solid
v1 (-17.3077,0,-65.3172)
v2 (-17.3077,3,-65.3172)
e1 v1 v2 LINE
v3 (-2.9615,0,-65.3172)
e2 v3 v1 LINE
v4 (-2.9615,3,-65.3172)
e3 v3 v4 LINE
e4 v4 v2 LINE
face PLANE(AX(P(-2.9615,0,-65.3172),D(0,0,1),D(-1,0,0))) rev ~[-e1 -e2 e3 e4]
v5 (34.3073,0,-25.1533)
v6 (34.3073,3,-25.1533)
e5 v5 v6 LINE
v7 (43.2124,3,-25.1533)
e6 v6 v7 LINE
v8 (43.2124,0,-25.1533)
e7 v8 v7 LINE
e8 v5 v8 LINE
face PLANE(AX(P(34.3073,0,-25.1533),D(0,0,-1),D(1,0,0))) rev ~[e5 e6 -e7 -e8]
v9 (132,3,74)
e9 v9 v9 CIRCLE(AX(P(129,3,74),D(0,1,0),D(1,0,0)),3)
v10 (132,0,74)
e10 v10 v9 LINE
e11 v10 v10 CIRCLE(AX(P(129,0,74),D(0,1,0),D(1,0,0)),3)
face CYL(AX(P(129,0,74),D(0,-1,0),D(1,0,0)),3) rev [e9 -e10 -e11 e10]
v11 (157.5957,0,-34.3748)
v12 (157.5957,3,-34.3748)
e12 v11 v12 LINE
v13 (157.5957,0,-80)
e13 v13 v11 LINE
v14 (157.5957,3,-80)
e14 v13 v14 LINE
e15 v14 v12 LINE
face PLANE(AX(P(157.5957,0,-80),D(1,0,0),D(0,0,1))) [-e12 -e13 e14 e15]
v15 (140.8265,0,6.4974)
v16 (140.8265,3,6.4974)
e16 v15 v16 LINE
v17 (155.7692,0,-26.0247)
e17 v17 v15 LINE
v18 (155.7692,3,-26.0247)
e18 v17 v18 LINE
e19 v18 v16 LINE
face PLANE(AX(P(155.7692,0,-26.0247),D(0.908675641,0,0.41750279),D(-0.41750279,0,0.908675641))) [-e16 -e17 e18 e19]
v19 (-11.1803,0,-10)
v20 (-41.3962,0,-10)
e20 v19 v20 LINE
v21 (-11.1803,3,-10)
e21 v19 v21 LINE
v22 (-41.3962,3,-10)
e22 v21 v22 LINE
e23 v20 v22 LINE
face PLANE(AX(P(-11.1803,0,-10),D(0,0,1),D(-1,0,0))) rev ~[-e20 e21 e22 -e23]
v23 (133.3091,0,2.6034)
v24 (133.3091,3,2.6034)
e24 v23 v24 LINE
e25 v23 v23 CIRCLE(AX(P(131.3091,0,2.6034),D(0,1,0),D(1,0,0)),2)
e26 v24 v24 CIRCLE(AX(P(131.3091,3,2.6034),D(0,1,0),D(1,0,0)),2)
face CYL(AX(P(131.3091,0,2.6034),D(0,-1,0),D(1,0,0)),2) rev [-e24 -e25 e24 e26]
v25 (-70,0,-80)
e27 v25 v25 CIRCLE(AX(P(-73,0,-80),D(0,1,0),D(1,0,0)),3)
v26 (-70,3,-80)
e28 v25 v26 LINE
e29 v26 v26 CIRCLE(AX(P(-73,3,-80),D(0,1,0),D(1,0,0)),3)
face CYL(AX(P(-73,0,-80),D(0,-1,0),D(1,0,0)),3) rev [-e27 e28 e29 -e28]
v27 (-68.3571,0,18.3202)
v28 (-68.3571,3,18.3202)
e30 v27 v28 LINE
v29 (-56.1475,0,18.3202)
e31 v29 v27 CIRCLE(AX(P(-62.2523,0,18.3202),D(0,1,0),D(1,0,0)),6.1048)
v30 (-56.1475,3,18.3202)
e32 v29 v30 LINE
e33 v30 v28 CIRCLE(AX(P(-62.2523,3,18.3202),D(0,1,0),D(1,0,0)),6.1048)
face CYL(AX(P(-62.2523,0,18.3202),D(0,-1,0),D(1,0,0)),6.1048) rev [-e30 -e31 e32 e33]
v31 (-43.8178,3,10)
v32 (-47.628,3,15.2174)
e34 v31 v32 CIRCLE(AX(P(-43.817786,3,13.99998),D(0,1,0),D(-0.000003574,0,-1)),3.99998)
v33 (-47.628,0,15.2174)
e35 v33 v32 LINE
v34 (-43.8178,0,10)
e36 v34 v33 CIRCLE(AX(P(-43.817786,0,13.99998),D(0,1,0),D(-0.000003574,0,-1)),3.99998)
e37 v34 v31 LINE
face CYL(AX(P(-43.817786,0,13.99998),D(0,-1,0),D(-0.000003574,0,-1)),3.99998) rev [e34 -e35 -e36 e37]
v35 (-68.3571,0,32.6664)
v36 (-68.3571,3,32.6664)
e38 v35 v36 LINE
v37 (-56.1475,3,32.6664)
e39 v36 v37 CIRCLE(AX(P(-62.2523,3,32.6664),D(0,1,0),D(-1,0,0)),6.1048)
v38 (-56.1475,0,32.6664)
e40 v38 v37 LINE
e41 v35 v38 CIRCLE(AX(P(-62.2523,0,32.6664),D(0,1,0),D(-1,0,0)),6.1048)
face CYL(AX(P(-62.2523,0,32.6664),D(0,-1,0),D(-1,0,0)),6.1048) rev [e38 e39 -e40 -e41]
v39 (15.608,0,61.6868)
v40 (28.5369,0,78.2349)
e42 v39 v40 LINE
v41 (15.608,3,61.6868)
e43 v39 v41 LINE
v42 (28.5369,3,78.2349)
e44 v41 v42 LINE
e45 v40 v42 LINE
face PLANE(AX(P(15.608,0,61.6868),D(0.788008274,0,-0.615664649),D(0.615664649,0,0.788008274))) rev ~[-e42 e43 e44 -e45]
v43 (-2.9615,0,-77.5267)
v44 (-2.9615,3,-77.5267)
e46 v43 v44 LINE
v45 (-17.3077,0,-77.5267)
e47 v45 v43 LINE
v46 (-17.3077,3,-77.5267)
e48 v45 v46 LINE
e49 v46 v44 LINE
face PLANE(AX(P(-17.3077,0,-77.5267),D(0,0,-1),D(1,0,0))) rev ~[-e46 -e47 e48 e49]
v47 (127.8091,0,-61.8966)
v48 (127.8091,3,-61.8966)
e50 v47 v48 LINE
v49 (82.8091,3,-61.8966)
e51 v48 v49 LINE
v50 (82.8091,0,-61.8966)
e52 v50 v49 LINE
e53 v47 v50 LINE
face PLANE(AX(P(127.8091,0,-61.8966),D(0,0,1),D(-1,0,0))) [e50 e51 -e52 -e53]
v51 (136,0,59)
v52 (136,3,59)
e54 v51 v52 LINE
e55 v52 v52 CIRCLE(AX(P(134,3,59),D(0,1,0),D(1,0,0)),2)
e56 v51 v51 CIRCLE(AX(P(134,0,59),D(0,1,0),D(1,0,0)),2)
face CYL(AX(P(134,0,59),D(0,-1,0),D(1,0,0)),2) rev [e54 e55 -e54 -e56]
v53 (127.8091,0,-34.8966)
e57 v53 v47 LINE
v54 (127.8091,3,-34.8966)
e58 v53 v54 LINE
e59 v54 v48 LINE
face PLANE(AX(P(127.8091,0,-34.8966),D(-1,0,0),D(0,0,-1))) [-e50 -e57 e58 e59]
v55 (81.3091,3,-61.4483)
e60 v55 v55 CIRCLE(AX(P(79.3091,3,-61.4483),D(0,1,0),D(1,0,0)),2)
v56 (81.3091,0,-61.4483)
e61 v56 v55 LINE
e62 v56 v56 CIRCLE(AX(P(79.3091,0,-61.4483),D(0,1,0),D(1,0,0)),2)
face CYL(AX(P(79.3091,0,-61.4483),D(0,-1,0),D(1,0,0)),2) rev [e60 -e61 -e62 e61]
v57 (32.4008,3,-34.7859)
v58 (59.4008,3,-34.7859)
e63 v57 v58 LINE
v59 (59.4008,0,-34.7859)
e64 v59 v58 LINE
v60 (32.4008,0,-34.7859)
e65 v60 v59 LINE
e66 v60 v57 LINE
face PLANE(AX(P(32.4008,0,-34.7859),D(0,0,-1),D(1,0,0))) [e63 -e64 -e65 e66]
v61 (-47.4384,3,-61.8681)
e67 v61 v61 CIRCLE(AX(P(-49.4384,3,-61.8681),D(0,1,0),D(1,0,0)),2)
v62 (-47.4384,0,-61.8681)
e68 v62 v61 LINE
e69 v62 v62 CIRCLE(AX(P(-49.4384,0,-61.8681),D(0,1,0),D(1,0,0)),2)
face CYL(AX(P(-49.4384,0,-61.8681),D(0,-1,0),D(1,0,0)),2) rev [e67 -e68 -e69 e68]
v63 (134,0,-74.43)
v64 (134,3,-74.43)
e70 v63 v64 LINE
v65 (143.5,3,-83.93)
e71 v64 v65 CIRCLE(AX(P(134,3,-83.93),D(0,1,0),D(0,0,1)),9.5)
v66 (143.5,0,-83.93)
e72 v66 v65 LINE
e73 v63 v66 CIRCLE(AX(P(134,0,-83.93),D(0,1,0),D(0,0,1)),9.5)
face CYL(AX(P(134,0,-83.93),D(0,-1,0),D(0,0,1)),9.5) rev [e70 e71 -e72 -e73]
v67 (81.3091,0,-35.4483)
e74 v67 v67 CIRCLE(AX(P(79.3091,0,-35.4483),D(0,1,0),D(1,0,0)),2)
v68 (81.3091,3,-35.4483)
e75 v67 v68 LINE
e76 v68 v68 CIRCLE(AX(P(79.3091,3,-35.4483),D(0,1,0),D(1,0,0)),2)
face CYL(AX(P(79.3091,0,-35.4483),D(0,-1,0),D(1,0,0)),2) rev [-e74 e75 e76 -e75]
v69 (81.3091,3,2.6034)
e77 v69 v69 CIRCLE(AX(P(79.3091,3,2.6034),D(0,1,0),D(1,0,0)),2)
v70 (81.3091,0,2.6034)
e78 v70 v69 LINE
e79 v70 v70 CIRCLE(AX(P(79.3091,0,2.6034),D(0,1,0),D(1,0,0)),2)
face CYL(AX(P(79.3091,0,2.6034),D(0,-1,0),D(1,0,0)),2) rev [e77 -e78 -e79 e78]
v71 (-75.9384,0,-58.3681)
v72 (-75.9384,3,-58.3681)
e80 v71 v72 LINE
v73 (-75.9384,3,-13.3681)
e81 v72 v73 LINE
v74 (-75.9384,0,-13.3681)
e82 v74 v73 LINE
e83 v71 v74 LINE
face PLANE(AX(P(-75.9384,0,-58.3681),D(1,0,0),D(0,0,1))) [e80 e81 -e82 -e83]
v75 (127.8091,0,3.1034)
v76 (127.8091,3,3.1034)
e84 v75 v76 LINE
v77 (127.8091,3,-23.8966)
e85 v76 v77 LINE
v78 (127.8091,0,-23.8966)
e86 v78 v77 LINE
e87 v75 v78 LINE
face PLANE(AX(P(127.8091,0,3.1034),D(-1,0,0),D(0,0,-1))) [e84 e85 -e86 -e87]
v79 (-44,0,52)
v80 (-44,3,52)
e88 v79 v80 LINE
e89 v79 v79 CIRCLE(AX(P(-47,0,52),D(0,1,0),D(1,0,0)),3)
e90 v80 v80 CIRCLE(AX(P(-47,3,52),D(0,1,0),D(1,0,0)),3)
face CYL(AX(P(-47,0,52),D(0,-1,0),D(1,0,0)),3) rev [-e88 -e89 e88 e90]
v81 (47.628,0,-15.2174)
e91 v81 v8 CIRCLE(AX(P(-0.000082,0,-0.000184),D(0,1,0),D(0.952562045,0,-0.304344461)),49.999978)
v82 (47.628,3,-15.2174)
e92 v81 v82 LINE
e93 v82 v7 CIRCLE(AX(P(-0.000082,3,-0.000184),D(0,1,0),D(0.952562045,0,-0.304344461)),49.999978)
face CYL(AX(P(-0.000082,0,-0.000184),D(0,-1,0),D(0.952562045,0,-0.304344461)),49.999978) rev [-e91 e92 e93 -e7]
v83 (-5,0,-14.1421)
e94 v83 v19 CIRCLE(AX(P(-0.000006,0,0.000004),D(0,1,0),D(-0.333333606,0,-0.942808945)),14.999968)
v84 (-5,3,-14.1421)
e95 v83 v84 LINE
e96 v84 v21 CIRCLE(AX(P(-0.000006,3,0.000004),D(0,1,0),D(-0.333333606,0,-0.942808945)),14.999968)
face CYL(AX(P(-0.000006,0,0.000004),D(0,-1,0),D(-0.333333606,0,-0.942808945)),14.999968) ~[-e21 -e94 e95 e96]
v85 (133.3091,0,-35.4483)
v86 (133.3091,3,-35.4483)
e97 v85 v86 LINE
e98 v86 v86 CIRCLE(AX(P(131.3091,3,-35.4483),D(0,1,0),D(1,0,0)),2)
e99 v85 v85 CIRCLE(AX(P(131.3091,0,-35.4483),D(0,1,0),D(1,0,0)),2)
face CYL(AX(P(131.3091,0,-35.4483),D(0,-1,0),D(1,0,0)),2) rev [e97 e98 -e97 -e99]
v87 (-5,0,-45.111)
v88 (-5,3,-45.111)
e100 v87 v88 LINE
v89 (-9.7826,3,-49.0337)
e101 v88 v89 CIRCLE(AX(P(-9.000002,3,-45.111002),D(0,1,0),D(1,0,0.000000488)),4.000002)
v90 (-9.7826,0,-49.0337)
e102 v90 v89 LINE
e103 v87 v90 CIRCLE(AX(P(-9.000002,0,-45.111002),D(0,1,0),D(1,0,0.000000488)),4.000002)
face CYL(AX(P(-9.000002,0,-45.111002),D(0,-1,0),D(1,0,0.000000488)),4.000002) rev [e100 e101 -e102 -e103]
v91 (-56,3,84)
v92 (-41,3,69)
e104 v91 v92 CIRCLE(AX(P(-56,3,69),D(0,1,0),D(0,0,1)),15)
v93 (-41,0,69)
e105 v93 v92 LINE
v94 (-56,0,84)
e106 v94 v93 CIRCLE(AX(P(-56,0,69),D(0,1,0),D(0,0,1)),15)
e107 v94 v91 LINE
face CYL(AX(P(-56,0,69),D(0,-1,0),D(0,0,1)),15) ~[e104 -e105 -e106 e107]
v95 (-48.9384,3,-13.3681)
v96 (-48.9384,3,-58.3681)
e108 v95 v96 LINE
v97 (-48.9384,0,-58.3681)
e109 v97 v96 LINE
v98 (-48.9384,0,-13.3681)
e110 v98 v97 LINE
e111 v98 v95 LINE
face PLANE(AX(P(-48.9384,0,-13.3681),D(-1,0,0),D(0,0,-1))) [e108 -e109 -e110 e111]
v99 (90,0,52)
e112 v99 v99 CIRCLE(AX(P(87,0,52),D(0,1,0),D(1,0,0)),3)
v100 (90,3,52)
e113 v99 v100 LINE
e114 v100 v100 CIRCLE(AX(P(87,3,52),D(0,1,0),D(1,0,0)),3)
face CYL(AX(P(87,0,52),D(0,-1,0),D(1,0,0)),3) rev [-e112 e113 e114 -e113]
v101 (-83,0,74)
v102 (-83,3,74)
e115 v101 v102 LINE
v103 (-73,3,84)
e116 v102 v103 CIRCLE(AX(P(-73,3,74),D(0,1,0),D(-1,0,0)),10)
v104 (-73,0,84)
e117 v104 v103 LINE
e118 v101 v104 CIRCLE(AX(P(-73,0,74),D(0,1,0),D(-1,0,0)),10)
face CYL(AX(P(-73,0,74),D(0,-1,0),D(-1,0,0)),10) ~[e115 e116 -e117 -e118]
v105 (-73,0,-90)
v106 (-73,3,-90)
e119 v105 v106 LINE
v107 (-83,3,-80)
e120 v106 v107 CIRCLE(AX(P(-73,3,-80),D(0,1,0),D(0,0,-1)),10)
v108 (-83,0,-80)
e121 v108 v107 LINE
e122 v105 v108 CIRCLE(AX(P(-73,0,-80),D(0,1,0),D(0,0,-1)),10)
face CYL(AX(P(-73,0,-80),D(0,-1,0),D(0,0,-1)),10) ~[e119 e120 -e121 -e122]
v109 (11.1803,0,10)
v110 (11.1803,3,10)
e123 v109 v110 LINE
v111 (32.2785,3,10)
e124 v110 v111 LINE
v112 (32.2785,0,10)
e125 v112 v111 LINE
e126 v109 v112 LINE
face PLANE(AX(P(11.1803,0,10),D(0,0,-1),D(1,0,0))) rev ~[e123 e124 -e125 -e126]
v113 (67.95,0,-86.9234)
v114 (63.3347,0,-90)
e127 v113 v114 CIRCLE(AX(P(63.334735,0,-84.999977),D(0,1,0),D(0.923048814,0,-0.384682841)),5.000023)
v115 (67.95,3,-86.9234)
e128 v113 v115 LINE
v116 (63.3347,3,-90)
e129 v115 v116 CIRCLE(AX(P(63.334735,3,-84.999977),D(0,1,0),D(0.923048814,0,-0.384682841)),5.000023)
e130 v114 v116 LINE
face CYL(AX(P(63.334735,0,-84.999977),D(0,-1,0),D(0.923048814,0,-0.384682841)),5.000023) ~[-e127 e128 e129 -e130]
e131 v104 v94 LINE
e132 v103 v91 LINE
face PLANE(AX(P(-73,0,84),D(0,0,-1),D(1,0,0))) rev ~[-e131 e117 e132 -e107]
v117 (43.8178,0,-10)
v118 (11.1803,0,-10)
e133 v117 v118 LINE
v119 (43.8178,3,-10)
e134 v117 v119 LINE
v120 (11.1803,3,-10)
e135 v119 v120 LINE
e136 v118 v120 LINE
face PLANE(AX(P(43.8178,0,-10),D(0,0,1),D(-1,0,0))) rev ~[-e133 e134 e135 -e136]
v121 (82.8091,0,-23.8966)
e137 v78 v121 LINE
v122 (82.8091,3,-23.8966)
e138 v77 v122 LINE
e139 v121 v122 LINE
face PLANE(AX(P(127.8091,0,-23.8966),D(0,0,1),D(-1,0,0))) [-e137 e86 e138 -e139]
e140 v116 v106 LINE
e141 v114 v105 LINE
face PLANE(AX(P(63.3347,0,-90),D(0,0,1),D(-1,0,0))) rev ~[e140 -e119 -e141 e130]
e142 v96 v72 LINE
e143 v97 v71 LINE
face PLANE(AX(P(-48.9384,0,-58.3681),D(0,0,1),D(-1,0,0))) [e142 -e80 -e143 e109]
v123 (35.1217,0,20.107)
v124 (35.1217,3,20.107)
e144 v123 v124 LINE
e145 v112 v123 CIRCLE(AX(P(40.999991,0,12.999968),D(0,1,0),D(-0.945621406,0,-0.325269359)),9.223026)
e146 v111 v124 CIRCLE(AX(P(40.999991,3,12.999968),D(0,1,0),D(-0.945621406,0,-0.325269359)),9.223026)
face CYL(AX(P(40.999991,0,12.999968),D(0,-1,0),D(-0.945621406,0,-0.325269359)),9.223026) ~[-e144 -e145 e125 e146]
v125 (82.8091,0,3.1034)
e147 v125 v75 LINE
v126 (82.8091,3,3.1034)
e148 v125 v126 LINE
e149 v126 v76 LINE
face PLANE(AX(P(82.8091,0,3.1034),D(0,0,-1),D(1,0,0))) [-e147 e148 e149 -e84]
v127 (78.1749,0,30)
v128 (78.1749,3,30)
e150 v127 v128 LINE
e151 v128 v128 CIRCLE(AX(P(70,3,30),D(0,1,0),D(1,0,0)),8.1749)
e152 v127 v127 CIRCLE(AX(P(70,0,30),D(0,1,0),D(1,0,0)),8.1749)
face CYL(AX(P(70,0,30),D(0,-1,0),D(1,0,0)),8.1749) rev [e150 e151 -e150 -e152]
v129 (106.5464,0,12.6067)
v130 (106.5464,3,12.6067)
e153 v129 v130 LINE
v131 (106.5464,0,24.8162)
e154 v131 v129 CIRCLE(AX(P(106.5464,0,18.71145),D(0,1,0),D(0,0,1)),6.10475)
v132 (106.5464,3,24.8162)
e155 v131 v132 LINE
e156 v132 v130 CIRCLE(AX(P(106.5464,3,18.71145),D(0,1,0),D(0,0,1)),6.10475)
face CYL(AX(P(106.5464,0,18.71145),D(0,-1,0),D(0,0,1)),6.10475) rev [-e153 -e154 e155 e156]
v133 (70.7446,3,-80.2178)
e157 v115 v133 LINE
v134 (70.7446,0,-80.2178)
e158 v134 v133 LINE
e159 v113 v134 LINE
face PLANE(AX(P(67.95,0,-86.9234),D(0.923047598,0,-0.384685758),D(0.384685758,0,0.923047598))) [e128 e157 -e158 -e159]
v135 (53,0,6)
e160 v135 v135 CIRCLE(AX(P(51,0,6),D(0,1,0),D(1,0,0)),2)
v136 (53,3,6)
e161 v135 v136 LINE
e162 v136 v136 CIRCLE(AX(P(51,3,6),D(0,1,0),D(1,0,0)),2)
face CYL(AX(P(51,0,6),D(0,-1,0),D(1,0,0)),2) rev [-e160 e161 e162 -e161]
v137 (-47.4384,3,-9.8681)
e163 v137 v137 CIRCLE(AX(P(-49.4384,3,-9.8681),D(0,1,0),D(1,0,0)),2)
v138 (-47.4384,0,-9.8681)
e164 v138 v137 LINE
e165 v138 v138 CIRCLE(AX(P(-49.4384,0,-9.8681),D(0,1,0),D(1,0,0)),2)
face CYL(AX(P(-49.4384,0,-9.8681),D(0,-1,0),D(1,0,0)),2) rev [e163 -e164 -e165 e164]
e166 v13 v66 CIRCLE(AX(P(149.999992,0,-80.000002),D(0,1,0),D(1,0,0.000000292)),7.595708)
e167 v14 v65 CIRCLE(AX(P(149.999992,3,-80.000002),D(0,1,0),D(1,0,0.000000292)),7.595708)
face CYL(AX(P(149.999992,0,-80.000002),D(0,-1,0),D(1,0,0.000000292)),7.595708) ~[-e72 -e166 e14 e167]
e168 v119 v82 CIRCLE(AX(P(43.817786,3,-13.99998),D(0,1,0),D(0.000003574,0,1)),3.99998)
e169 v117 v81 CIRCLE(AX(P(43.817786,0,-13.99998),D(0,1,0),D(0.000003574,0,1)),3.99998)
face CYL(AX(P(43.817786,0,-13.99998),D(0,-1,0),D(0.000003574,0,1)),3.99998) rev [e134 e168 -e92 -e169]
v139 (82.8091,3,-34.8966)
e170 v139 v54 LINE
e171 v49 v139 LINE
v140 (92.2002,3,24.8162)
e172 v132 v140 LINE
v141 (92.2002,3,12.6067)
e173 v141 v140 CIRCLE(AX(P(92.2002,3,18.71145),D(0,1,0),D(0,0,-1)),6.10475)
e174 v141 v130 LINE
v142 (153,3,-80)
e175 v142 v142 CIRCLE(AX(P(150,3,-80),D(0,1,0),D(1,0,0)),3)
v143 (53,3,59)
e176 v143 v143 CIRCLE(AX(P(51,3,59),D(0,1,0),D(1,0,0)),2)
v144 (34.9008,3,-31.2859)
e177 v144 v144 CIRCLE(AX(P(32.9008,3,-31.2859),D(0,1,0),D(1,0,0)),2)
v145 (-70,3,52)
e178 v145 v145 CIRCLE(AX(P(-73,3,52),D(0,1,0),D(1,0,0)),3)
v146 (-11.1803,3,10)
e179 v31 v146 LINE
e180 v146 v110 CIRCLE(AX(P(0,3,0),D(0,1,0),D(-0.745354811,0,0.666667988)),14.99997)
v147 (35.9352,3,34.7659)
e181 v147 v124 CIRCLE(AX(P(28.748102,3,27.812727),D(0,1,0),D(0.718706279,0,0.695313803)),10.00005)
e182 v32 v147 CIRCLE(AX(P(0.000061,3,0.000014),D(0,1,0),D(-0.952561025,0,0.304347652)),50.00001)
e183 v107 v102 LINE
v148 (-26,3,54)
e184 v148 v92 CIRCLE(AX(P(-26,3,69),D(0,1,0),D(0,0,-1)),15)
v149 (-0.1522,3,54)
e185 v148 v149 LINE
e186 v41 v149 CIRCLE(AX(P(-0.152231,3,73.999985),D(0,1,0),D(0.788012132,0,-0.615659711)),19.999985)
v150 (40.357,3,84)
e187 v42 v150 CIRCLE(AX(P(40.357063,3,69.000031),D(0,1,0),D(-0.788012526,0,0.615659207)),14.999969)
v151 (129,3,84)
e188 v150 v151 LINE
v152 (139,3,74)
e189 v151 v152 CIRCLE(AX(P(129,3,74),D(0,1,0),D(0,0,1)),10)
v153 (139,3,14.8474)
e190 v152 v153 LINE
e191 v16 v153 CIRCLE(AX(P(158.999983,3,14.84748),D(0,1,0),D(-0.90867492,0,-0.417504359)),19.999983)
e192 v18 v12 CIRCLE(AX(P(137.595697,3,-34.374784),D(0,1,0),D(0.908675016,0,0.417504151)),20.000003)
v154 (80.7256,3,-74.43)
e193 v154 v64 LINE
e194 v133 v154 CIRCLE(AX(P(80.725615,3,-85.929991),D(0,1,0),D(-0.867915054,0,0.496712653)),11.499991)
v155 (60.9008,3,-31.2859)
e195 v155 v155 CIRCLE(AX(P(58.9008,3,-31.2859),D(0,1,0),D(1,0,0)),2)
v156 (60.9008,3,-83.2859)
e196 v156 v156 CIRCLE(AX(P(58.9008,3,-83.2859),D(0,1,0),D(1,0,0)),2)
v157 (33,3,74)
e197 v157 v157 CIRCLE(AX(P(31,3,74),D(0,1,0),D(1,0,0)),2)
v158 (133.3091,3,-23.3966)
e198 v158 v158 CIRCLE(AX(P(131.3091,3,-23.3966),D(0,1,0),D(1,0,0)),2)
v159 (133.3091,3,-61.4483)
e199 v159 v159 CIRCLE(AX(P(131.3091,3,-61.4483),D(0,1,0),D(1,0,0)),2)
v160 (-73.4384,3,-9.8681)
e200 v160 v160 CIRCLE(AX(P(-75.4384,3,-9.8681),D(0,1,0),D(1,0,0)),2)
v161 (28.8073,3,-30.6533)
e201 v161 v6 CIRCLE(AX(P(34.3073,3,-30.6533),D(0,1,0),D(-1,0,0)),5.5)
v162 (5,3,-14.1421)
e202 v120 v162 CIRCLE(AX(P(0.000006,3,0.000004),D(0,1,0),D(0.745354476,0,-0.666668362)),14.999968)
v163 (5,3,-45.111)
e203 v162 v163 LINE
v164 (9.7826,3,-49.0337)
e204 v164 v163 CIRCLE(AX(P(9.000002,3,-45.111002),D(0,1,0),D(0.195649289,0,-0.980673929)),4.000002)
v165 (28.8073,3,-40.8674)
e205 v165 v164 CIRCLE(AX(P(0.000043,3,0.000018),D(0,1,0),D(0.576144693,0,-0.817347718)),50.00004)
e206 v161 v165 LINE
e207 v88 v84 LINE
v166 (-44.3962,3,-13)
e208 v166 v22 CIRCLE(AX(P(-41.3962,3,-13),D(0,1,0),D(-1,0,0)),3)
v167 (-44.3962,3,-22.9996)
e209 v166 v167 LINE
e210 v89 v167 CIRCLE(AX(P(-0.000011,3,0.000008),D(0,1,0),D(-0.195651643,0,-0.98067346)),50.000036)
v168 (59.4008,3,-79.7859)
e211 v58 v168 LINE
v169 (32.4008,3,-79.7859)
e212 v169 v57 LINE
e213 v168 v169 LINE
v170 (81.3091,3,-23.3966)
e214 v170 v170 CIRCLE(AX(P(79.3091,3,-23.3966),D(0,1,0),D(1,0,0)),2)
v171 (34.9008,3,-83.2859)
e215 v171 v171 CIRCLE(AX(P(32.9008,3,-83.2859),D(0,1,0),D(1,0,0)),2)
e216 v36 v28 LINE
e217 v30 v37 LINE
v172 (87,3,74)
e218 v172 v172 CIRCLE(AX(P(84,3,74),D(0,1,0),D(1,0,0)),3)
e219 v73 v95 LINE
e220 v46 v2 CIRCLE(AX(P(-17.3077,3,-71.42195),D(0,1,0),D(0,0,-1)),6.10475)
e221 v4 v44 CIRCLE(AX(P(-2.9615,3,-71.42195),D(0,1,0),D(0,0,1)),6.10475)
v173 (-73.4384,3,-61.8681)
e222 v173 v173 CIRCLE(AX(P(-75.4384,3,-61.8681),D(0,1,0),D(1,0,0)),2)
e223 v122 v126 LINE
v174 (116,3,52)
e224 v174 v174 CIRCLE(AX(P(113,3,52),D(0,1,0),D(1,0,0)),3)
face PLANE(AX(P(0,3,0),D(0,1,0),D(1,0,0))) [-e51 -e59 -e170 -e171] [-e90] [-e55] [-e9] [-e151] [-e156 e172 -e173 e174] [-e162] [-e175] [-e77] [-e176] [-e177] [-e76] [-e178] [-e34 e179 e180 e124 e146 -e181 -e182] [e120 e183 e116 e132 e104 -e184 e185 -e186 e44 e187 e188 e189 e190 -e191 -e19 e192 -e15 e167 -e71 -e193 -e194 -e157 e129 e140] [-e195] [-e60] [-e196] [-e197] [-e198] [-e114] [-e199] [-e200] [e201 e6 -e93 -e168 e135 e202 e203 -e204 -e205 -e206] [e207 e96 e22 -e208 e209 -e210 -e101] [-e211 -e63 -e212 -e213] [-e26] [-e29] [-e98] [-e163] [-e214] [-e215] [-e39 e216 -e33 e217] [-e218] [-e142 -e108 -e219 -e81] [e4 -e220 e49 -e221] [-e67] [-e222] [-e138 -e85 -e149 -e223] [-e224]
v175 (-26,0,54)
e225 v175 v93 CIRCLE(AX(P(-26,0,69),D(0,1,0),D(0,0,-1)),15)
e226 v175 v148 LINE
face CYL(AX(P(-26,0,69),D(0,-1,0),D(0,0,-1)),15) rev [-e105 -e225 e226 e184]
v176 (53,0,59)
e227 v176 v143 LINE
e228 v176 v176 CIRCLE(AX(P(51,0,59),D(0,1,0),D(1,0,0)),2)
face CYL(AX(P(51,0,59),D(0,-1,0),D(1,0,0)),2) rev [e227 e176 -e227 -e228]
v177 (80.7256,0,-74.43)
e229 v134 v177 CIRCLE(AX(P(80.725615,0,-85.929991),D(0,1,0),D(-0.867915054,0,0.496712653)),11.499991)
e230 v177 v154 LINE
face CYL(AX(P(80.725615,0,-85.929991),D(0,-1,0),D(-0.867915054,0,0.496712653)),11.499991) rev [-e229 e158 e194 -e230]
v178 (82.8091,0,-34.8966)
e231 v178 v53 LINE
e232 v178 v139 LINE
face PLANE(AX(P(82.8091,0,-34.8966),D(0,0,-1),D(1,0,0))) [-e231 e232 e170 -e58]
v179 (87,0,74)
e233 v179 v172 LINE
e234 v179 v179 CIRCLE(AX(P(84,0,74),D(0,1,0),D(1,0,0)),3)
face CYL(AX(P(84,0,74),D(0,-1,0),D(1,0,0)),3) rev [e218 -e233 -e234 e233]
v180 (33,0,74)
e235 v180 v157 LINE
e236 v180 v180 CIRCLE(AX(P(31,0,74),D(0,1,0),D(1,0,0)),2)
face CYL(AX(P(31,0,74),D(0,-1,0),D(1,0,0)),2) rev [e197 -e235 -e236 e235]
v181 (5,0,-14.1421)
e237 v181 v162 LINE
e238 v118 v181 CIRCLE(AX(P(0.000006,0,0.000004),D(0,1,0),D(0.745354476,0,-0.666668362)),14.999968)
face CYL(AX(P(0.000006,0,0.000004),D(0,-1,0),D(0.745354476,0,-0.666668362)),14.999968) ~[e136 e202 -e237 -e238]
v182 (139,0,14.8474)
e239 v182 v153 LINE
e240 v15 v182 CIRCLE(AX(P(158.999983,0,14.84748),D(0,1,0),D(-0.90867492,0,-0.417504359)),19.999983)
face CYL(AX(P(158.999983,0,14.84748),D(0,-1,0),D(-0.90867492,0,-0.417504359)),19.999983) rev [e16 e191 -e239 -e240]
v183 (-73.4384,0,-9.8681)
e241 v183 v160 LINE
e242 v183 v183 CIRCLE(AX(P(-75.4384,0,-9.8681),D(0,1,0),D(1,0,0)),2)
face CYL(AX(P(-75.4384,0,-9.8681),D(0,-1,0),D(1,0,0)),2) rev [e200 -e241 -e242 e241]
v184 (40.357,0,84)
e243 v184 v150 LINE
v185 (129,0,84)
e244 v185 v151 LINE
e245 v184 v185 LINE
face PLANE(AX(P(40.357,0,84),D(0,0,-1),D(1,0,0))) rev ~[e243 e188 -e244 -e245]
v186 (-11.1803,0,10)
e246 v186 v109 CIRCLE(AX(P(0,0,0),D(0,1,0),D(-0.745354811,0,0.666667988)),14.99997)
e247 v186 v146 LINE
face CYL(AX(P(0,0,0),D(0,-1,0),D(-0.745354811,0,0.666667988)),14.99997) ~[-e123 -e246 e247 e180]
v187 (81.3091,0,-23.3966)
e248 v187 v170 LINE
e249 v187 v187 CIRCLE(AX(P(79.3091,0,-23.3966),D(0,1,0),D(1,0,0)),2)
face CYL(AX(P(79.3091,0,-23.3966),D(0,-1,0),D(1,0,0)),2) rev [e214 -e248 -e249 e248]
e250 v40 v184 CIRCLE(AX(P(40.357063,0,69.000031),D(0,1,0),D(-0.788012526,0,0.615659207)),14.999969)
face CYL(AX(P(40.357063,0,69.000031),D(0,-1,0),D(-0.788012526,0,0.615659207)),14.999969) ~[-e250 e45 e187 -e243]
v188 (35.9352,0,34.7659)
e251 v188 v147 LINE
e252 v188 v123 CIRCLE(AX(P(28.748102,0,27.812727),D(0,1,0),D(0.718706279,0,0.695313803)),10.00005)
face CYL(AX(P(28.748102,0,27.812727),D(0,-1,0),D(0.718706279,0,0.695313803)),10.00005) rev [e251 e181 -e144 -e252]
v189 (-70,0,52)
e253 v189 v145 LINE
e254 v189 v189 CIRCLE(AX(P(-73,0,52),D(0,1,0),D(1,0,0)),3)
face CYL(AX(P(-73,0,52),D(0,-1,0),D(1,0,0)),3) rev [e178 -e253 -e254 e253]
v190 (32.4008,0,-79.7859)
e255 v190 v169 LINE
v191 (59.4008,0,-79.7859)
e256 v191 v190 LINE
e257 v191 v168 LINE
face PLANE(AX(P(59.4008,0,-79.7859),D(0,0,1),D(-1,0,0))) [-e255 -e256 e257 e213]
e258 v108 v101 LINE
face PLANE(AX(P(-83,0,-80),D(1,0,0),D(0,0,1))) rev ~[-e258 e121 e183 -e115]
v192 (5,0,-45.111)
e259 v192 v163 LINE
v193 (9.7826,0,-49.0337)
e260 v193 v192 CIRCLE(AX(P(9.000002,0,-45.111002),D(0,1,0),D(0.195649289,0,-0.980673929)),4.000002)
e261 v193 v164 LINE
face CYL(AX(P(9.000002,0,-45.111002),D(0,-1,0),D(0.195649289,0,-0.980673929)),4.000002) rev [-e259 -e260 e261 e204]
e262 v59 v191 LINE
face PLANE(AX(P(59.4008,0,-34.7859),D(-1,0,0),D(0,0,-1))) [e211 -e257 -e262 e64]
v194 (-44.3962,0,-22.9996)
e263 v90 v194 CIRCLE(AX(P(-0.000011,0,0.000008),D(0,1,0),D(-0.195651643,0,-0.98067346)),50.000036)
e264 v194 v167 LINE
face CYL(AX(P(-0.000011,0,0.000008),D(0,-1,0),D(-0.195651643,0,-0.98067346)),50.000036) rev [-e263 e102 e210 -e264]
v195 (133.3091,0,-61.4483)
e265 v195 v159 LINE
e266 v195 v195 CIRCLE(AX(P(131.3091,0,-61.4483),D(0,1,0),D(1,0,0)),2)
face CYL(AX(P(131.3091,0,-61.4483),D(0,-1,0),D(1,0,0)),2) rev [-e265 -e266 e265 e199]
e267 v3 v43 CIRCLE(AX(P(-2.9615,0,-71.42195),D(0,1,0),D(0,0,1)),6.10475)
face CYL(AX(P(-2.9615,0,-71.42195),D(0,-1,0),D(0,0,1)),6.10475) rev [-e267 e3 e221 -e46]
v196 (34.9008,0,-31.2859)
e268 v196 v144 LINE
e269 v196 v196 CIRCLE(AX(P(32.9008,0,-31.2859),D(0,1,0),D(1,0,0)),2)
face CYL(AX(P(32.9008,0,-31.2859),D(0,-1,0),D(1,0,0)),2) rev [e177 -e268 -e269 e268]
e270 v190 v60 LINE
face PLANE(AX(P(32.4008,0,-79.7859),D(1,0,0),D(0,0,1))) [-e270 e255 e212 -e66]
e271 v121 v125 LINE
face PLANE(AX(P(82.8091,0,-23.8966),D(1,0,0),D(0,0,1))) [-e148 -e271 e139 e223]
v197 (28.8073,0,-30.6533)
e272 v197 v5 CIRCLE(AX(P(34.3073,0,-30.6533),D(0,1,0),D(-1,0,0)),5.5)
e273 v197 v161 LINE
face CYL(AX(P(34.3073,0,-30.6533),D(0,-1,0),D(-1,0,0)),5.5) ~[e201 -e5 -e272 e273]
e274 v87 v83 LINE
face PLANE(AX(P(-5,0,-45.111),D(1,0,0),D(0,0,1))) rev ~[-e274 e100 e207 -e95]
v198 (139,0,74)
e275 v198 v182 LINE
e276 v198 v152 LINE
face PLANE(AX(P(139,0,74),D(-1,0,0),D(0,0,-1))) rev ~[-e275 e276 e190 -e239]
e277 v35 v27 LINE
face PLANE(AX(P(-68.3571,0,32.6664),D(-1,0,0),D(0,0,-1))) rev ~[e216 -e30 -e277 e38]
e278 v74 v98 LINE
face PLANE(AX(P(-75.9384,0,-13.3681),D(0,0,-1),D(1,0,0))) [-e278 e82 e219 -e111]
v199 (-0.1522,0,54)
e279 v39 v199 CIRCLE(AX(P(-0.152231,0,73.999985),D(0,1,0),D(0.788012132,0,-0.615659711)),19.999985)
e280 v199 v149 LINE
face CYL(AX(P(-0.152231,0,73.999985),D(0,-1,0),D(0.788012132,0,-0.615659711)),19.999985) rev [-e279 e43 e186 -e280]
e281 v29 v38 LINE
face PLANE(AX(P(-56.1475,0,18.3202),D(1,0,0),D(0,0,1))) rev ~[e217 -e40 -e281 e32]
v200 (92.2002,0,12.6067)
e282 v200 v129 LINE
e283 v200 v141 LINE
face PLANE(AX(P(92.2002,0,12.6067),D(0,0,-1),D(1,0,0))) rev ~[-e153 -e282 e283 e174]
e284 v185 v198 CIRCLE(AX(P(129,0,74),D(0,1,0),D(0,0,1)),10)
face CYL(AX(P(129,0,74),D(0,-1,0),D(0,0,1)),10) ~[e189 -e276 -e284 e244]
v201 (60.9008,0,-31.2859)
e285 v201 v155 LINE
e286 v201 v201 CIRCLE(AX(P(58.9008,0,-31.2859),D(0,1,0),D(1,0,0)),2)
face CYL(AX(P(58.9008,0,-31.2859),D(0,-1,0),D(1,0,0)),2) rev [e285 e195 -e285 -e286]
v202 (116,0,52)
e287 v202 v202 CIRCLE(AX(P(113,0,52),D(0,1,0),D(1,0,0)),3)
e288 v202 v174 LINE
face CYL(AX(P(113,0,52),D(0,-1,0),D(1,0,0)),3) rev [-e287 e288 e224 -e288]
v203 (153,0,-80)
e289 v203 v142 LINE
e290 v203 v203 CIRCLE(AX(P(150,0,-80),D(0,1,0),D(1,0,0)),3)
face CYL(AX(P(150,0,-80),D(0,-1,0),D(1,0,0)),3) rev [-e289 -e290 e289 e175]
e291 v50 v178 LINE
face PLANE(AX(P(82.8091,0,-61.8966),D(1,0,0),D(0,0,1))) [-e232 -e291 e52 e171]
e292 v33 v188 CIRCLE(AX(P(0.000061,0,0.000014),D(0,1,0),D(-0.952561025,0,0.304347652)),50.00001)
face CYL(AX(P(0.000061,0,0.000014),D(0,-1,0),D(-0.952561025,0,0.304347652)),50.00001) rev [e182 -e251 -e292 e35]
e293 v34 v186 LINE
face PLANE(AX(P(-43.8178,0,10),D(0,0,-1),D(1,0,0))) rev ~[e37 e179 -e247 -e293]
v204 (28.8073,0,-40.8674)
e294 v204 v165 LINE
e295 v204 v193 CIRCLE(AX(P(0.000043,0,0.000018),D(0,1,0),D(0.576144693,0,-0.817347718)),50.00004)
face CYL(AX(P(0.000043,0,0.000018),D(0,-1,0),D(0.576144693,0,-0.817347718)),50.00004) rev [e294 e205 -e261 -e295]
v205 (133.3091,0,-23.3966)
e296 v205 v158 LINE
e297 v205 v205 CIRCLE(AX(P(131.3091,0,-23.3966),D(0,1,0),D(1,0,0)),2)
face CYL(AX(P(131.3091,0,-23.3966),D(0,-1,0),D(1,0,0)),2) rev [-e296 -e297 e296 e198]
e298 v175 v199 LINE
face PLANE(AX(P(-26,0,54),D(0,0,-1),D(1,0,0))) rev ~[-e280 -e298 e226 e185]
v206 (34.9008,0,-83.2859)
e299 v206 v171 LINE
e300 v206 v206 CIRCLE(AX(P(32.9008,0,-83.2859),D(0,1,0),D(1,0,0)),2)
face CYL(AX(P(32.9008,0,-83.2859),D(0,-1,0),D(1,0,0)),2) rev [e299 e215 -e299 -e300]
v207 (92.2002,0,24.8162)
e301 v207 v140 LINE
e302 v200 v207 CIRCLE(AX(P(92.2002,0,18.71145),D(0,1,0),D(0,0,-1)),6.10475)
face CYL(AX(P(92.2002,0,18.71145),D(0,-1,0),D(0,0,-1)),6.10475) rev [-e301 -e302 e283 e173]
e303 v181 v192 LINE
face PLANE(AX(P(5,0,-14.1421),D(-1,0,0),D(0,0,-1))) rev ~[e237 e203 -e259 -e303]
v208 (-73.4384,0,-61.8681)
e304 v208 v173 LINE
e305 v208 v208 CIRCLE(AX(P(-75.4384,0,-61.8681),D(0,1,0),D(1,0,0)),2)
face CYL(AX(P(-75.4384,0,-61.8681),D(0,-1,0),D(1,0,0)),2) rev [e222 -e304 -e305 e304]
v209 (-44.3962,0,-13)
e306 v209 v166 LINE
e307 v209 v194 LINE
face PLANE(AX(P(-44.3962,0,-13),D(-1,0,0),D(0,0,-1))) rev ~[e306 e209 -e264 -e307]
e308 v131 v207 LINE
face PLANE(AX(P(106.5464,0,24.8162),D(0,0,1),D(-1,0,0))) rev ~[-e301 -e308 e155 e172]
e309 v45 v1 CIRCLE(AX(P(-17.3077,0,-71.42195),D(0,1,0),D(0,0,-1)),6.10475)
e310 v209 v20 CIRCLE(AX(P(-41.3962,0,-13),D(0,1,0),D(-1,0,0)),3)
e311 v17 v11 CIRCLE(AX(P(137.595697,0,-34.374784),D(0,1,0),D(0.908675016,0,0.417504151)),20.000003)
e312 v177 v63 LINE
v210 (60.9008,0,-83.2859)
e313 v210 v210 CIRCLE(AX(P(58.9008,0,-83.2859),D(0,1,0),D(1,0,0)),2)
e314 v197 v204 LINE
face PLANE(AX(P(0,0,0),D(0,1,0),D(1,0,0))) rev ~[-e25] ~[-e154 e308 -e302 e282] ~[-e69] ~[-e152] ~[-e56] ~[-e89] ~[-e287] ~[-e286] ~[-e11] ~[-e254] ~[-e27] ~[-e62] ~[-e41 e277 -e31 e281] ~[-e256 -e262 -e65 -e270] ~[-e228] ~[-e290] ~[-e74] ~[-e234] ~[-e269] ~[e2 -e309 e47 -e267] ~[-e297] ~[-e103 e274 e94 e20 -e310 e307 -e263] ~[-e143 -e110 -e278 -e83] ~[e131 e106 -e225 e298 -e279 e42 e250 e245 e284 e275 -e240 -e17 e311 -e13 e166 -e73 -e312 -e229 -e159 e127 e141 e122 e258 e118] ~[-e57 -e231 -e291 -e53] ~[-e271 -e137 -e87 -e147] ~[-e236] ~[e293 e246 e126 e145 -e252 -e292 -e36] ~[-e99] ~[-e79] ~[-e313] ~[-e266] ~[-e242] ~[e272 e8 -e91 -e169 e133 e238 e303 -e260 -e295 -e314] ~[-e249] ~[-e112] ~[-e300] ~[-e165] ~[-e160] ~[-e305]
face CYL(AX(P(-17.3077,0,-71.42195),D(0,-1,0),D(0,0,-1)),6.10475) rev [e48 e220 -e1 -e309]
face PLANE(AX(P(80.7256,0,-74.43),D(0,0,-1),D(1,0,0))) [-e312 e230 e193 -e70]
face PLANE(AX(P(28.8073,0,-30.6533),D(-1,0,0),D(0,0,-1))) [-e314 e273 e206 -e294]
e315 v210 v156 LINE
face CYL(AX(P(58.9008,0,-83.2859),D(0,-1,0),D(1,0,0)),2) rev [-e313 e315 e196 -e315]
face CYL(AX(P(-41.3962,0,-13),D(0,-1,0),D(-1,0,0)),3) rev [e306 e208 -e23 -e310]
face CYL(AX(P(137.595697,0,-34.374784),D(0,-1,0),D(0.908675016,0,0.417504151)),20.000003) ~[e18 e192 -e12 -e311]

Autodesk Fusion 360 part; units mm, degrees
sketch "Sketch1" plane through (0, 0, 0) normal (0, 1, 0) x (1, 0, 0)
  line L0 (40.357, -84) -> (129, -84)
  circle A0 centre (134, -59) radius 2
  arc A1 (35.9352, -34.7659) -> (35.1217, -20.107) centre (28.7481, -27.8127) ccw
  circle A2 centre (31, -74) radius 2
  arc A3 (129, -84) -> (139, -74) centre (129, -74) ccw
  circle A4 centre (51, -59) radius 2
  arc A5 (28.5369, -78.2349) -> (40.357, -84) centre (40.357, -69) ccw
  line L1 (11.1803, -10) -> (32.2785, -10)
  circle A6 centre (129, -74) radius 3
  arc A7 (32.2785, -10) -> (35.1217, -20.107) centre (41, -13) ccw
  circle A8 centre (-73, -52) radius 3
  arc A9 (-56, -84) -> (-41, -69) centre (-56, -69) ccw
  circle A10 centre (-73, 80) radius 3
  line L2 (-83, 80) -> (-83, -74)
  line L3 (-5, 45.111) -> (-5, 14.1421)
  arc A11 (9.7826, 49.0337) -> (5, 45.111) centre (9, 45.111) ccw
  arc A12 (-5, 14.1421) -> (-11.1803, 10) centre (0, 0) ccw
  arc A13 (-44.3962, 10.042) -> (-43.8178, 10) centre (-43.8178, 14) ccw
  arc A14 (-83, -74) -> (-73, -84) centre (-73, -74) ccw
  arc A15 (15.608, -61.6868) -> (-0.1522, -54) centre (-0.1522, -74) ccw
  arc A16 (-11.1803, -10) -> (11.1803, -10) centre (0, 0) ccw
  line L4 (63.3347, 90) -> (-73, 90)
  line L5 (-11.1803, 10) -> (-41.3962, 10)
  arc A17 (-5, 45.111) -> (-9.7826, 49.0337) centre (-9, 45.111) ccw
  line L6 (-73, -84) -> (-56, -84)
  line L7 (-68.3571, -32.6664) -> (-68.3571, -18.3202)
  circle A18 centre (-47, -52) radius 3
  arc A19 (-68.3571, -32.6664) -> (-56.1475, -32.6664) centre (-62.2523, -32.6664) ccw
  line L8 (-43.8178, -10) -> (-11.1803, -10)
  line L9 (43.8178, 10) -> (11.1803, 10)
  arc A20 (43.8178, 10) -> (47.628, 15.2174) centre (43.8178, 14) ccw
  circle A21 centre (51, -6) radius 2
  line L10 (15.608, -61.6868) -> (28.5369, -78.2349)
  circle A22 centre (84, -74) radius 3
  arc A23 (-26, -54) -> (-41, -69) centre (-26, -69) ccw
  line L11 (-56.1475, -18.3202) -> (-56.1475, -32.6664)
  arc A24 (-9.7826, 49.0337) -> (-44.3962, 22.9996) centre (0, 0) ccw
  arc A25 (-56.1475, -18.3202) -> (-68.3571, -18.3202) centre (-62.2523, -18.3202) ccw
  arc A26 (11.1803, 10) -> (5, 14.1421) centre (0, 0) ccw
  line L12 (5, 14.1421) -> (5, 45.111)
  arc A27 (-43.8178, -10) -> (-47.628, -15.2174) centre (-43.8178, -14) ccw
  line L13 (-26, -54) -> (-0.1522, -54)
  arc A28 (-47.628, -15.2174) -> (35.9352, -34.7659) centre (0, 0) ccw
  arc A29 (-73, 90) -> (-83, 80) centre (-73, 80) ccw
  circle A30 centre (150, 80) radius 3
  line L14 (67.95, 86.9234) -> (70.7446, 80.2178)
  arc A31 (70.7446, 80.2178) -> (80.7256, 74.43) centre (80.7256, 85.93) ccw
  line L15 (80.7256, 74.43) -> (134, 74.43)
  arc A32 (134, 74.43) -> (143.5, 83.93) centre (134, 83.93) ccw
  line L16 (157.5957, 80) -> (157.5957, 34.3748)
  line L17 (155.7692, 26.0247) -> (140.8265, -6.4974)
  line L18 (139, -74) -> (139, -14.8474)
  arc A33 (67.95, 86.9234) -> (63.3347, 90) centre (63.3347, 85) ccw
  arc A34 (155.7692, 26.0247) -> (157.5957, 34.3748) centre (137.5957, 34.3748) ccw
  arc A35 (140.8265, -6.4974) -> (139, -14.8474) centre (159, -14.8474) ccw
  arc A36 (157.5957, 80) -> (143.5, 83.93) centre (150, 80) ccw
  arc A37 (78.8091, 65.3966) -> (73.3091, 59.8966) centre (78.8091, 59.8966) ccw construction
  line L19 (73.3091, 59.8966) -> (73.3091, 36.8966) construction
  arc A38 (73.3091, 36.8966) -> (78.8091, 31.3966) centre (78.8091, 36.8966) ccw construction
  line L20 (78.8091, 31.3966) -> (131.8091, 31.3966) construction
  arc A39 (131.8091, 31.3966) -> (137.3091, 36.8966) centre (131.8091, 36.8966) ccw construction
  line L21 (137.3091, 36.8966) -> (137.3091, 59.8966) construction
  arc A40 (137.3091, 59.8966) -> (131.8091, 65.3966) centre (131.8091, 59.8966) ccw construction
  line L22 (131.8091, 65.3966) -> (78.8091, 65.3966) construction
  line L23 (127.8091, 61.8966) -> (82.8091, 61.8966)
  line L24 (82.8091, 61.8966) -> (82.8091, 34.8966)
  line L25 (82.8091, 34.8966) -> (127.8091, 34.8966)
  line L26 (127.8091, 34.8966) -> (127.8091, 61.8966)
  line L27 (73.3091, 21.8966) -> (73.3091, -1.1034) construction
  arc A41 (78.8091, 27.3966) -> (73.3091, 21.8966) centre (78.8091, 21.8966) ccw construction
  line L28 (131.8091, 27.3966) -> (78.8091, 27.3966) construction
  arc A42 (137.3091, 21.8966) -> (131.8091, 27.3966) centre (131.8091, 21.8966) ccw construction
  line L29 (137.3091, -1.1034) -> (137.3091, 21.8966) construction
  arc A43 (131.8091, -6.6034) -> (137.3091, -1.1034) centre (131.8091, -1.1034) ccw construction
  line L30 (78.8091, -6.6034) -> (131.8091, -6.6034) construction
  arc A44 (73.3091, -1.1034) -> (78.8091, -6.6034) centre (78.8091, -1.1034) ccw construction
  line L31 (127.8091, -3.1034) -> (127.8091, 23.8966)
  line L32 (127.8091, 23.8966) -> (82.8091, 23.8966)
  line L33 (82.8091, 23.8966) -> (82.8091, -3.1034)
  line L34 (82.8091, -3.1034) -> (127.8091, -3.1034)
  line L35 (34.3073, 25.1533) -> (57.3073, 25.1533) construction
  arc A45 (57.3073, 25.1533) -> (62.8073, 30.6533) centre (57.3073, 30.6533) ccw construction
  line L36 (62.8073, 30.6533) -> (62.8073, 83.6533) construction
  arc A46 (62.8073, 83.6533) -> (57.3073, 89.1533) centre (57.3073, 83.6533) ccw construction
  line L37 (57.3073, 89.1533) -> (34.3073, 89.1533) construction
  line L38 (28.8073, 83.6533) -> (28.8073, 30.6533) construction
  arc A47 (34.3073, 89.1533) -> (28.8073, 83.6533) centre (34.3073, 83.6533) ccw construction
  arc A48 (28.8073, 30.6533) -> (34.3073, 25.1533) centre (34.3073, 30.6533) ccw
  line L39 (59.4008, 79.7859) -> (32.4008, 79.7859)
  line L40 (32.4008, 79.7859) -> (32.4008, 34.7859)
  line L41 (32.4008, 34.7859) -> (59.4008, 34.7859)
  line L42 (59.4008, 34.7859) -> (59.4008, 79.7859)
  line L43 (28.8073, 30.6533) -> (28.8073, 40.8674)
  line L44 (34.3073, 25.1533) -> (43.2124, 25.1533)
  line L45 (-50.9384, 67.8681) -> (-73.9384, 67.8681) construction
  arc A49 (-73.9384, 67.8681) -> (-79.4384, 62.3681) centre (-73.9384, 62.3681) ccw construction
  line L46 (-79.4384, 62.3681) -> (-79.4384, 9.3681) construction
  arc A50 (-79.4384, 9.3681) -> (-73.9384, 3.8681) centre (-73.9384, 9.3681) ccw construction
  line L47 (-73.9384, 3.8681) -> (-50.9384, 3.8681) construction
  line L48 (-45.4384, 9.3681) -> (-45.4384, 62.3681) construction
  arc A51 (-50.9384, 3.8681) -> (-45.4384, 9.3681) centre (-50.9384, 9.3681) ccw construction
  arc A52 (-45.4384, 62.3681) -> (-50.9384, 67.8681) centre (-50.9384, 62.3681) ccw construction
  line L49 (-75.9384, 13.3681) -> (-48.9384, 13.3681)
  line L50 (-48.9384, 13.3681) -> (-48.9384, 58.3681)
  line L51 (-48.9384, 58.3681) -> (-75.9384, 58.3681)
  line L52 (-75.9384, 58.3681) -> (-75.9384, 13.3681)
  circle A53 centre (-86.6447, -5.091) radius 2
  line L53 (92.2002, -12.6067) -> (106.5464, -12.6067)
  arc A54 (106.5464, -24.8162) -> (106.5464, -12.6067) centre (106.5464, -18.7114) ccw
  line L54 (106.5464, -24.8162) -> (92.2002, -24.8162)
  arc A55 (92.2002, -12.6067) -> (92.2002, -24.8162) centre (92.2002, -18.7114) ccw
  circle A56 centre (87, -52) radius 3
  circle A57 centre (113, -52) radius 3
  circle A58 centre (70, -30) radius 8.1749
  line L55 (105.3091, 61.8966) -> (105.3091, 35) construction
  line L56 (105.3091, -3.1034) -> (105.3091, 23.8966) construction
  circle A59 centre (79.3091, 23.3966) radius 2
  circle A60 centre (79.3091, -2.6034) radius 2
  circle A61 centre (131.3091, -2.6034) radius 2
  circle A62 centre (131.3091, 23.3966) radius 2
  circle A63 centre (131.3091, 35.4483) radius 2
  circle A64 centre (79.3091, 61.4483) radius 2
  circle A65 centre (79.3091, 35.4483) radius 2
  circle A66 centre (131.3091, 61.4483) radius 2
  circle A67 centre (58.9008, 31.2859) radius 2
  circle A68 centre (58.9008, 83.2859) radius 2
  circle A69 centre (32.9008, 31.2859) radius 2
  circle A70 centre (32.9008, 83.2859) radius 2
  circle A71 centre (-75.4384, 61.8681) radius 2
  circle A72 centre (-75.4384, 9.8681) radius 2
  circle A73 centre (-49.4384, 9.8681) radius 2
  circle A74 centre (-49.4384, 61.8681) radius 2
  arc A75 (47.628, 15.2174) -> (43.2124, 25.1533) centre (0, 0) ccw
  arc A76 (28.8073, 40.8674) -> (9.7826, 49.0337) centre (0, 0) ccw
  line L57 (-44.3962, 13) -> (-44.3962, 22.9996)
  arc A77 (-44.3962, 13) -> (-41.3962, 10) centre (-41.3962, 13) ccw
  line L58 (-17.3077, 77.5267) -> (-2.9615, 77.5267)
  line L59 (-2.9615, 65.3172) -> (-17.3077, 65.3172)
  arc A78 (-17.3077, 77.5267) -> (-17.3077, 65.3172) centre (-17.3077, 71.422) ccw
  arc A79 (-2.9615, 65.3172) -> (-2.9615, 77.5267) centre (-2.9615, 71.422) ccw
  point P0 (32.9008, 29.2859)
  point P1 (-50.9614, 82.5095)
  point P2 (-60.6447, 50.909)
  point P3 (105.3091, 48.4483)
  point P4 (105.3091, 10.3966)
  point P5 (105.3091, 10.3966)
  point P6 (105.3091, 48.4483)
  point P7 (45.9008, 57.2859)
  dimension "d4" = 5
  dimension "d5" = 20
  dimension "d6" = 20
  dimension "d8" = 45
  dimension "d9" = 27
  dimension "d12" = 45
  dimension "d13" = 27
  dimension "d14" = 45
  dimension "d15" = 27
  dimension "d17" = 45
  dimension "d18" = 27
  dimension "d23" = 3
extrude "Extrude1" add sketch "Sketch1" along normal blind 3 contours L0 A3 A5 A9 L2 A14 A15 L4 L6 L10 A23 L13 A29 L14 A31 L15 A32 L16 L17 L18 A33 A34 A35 A36
